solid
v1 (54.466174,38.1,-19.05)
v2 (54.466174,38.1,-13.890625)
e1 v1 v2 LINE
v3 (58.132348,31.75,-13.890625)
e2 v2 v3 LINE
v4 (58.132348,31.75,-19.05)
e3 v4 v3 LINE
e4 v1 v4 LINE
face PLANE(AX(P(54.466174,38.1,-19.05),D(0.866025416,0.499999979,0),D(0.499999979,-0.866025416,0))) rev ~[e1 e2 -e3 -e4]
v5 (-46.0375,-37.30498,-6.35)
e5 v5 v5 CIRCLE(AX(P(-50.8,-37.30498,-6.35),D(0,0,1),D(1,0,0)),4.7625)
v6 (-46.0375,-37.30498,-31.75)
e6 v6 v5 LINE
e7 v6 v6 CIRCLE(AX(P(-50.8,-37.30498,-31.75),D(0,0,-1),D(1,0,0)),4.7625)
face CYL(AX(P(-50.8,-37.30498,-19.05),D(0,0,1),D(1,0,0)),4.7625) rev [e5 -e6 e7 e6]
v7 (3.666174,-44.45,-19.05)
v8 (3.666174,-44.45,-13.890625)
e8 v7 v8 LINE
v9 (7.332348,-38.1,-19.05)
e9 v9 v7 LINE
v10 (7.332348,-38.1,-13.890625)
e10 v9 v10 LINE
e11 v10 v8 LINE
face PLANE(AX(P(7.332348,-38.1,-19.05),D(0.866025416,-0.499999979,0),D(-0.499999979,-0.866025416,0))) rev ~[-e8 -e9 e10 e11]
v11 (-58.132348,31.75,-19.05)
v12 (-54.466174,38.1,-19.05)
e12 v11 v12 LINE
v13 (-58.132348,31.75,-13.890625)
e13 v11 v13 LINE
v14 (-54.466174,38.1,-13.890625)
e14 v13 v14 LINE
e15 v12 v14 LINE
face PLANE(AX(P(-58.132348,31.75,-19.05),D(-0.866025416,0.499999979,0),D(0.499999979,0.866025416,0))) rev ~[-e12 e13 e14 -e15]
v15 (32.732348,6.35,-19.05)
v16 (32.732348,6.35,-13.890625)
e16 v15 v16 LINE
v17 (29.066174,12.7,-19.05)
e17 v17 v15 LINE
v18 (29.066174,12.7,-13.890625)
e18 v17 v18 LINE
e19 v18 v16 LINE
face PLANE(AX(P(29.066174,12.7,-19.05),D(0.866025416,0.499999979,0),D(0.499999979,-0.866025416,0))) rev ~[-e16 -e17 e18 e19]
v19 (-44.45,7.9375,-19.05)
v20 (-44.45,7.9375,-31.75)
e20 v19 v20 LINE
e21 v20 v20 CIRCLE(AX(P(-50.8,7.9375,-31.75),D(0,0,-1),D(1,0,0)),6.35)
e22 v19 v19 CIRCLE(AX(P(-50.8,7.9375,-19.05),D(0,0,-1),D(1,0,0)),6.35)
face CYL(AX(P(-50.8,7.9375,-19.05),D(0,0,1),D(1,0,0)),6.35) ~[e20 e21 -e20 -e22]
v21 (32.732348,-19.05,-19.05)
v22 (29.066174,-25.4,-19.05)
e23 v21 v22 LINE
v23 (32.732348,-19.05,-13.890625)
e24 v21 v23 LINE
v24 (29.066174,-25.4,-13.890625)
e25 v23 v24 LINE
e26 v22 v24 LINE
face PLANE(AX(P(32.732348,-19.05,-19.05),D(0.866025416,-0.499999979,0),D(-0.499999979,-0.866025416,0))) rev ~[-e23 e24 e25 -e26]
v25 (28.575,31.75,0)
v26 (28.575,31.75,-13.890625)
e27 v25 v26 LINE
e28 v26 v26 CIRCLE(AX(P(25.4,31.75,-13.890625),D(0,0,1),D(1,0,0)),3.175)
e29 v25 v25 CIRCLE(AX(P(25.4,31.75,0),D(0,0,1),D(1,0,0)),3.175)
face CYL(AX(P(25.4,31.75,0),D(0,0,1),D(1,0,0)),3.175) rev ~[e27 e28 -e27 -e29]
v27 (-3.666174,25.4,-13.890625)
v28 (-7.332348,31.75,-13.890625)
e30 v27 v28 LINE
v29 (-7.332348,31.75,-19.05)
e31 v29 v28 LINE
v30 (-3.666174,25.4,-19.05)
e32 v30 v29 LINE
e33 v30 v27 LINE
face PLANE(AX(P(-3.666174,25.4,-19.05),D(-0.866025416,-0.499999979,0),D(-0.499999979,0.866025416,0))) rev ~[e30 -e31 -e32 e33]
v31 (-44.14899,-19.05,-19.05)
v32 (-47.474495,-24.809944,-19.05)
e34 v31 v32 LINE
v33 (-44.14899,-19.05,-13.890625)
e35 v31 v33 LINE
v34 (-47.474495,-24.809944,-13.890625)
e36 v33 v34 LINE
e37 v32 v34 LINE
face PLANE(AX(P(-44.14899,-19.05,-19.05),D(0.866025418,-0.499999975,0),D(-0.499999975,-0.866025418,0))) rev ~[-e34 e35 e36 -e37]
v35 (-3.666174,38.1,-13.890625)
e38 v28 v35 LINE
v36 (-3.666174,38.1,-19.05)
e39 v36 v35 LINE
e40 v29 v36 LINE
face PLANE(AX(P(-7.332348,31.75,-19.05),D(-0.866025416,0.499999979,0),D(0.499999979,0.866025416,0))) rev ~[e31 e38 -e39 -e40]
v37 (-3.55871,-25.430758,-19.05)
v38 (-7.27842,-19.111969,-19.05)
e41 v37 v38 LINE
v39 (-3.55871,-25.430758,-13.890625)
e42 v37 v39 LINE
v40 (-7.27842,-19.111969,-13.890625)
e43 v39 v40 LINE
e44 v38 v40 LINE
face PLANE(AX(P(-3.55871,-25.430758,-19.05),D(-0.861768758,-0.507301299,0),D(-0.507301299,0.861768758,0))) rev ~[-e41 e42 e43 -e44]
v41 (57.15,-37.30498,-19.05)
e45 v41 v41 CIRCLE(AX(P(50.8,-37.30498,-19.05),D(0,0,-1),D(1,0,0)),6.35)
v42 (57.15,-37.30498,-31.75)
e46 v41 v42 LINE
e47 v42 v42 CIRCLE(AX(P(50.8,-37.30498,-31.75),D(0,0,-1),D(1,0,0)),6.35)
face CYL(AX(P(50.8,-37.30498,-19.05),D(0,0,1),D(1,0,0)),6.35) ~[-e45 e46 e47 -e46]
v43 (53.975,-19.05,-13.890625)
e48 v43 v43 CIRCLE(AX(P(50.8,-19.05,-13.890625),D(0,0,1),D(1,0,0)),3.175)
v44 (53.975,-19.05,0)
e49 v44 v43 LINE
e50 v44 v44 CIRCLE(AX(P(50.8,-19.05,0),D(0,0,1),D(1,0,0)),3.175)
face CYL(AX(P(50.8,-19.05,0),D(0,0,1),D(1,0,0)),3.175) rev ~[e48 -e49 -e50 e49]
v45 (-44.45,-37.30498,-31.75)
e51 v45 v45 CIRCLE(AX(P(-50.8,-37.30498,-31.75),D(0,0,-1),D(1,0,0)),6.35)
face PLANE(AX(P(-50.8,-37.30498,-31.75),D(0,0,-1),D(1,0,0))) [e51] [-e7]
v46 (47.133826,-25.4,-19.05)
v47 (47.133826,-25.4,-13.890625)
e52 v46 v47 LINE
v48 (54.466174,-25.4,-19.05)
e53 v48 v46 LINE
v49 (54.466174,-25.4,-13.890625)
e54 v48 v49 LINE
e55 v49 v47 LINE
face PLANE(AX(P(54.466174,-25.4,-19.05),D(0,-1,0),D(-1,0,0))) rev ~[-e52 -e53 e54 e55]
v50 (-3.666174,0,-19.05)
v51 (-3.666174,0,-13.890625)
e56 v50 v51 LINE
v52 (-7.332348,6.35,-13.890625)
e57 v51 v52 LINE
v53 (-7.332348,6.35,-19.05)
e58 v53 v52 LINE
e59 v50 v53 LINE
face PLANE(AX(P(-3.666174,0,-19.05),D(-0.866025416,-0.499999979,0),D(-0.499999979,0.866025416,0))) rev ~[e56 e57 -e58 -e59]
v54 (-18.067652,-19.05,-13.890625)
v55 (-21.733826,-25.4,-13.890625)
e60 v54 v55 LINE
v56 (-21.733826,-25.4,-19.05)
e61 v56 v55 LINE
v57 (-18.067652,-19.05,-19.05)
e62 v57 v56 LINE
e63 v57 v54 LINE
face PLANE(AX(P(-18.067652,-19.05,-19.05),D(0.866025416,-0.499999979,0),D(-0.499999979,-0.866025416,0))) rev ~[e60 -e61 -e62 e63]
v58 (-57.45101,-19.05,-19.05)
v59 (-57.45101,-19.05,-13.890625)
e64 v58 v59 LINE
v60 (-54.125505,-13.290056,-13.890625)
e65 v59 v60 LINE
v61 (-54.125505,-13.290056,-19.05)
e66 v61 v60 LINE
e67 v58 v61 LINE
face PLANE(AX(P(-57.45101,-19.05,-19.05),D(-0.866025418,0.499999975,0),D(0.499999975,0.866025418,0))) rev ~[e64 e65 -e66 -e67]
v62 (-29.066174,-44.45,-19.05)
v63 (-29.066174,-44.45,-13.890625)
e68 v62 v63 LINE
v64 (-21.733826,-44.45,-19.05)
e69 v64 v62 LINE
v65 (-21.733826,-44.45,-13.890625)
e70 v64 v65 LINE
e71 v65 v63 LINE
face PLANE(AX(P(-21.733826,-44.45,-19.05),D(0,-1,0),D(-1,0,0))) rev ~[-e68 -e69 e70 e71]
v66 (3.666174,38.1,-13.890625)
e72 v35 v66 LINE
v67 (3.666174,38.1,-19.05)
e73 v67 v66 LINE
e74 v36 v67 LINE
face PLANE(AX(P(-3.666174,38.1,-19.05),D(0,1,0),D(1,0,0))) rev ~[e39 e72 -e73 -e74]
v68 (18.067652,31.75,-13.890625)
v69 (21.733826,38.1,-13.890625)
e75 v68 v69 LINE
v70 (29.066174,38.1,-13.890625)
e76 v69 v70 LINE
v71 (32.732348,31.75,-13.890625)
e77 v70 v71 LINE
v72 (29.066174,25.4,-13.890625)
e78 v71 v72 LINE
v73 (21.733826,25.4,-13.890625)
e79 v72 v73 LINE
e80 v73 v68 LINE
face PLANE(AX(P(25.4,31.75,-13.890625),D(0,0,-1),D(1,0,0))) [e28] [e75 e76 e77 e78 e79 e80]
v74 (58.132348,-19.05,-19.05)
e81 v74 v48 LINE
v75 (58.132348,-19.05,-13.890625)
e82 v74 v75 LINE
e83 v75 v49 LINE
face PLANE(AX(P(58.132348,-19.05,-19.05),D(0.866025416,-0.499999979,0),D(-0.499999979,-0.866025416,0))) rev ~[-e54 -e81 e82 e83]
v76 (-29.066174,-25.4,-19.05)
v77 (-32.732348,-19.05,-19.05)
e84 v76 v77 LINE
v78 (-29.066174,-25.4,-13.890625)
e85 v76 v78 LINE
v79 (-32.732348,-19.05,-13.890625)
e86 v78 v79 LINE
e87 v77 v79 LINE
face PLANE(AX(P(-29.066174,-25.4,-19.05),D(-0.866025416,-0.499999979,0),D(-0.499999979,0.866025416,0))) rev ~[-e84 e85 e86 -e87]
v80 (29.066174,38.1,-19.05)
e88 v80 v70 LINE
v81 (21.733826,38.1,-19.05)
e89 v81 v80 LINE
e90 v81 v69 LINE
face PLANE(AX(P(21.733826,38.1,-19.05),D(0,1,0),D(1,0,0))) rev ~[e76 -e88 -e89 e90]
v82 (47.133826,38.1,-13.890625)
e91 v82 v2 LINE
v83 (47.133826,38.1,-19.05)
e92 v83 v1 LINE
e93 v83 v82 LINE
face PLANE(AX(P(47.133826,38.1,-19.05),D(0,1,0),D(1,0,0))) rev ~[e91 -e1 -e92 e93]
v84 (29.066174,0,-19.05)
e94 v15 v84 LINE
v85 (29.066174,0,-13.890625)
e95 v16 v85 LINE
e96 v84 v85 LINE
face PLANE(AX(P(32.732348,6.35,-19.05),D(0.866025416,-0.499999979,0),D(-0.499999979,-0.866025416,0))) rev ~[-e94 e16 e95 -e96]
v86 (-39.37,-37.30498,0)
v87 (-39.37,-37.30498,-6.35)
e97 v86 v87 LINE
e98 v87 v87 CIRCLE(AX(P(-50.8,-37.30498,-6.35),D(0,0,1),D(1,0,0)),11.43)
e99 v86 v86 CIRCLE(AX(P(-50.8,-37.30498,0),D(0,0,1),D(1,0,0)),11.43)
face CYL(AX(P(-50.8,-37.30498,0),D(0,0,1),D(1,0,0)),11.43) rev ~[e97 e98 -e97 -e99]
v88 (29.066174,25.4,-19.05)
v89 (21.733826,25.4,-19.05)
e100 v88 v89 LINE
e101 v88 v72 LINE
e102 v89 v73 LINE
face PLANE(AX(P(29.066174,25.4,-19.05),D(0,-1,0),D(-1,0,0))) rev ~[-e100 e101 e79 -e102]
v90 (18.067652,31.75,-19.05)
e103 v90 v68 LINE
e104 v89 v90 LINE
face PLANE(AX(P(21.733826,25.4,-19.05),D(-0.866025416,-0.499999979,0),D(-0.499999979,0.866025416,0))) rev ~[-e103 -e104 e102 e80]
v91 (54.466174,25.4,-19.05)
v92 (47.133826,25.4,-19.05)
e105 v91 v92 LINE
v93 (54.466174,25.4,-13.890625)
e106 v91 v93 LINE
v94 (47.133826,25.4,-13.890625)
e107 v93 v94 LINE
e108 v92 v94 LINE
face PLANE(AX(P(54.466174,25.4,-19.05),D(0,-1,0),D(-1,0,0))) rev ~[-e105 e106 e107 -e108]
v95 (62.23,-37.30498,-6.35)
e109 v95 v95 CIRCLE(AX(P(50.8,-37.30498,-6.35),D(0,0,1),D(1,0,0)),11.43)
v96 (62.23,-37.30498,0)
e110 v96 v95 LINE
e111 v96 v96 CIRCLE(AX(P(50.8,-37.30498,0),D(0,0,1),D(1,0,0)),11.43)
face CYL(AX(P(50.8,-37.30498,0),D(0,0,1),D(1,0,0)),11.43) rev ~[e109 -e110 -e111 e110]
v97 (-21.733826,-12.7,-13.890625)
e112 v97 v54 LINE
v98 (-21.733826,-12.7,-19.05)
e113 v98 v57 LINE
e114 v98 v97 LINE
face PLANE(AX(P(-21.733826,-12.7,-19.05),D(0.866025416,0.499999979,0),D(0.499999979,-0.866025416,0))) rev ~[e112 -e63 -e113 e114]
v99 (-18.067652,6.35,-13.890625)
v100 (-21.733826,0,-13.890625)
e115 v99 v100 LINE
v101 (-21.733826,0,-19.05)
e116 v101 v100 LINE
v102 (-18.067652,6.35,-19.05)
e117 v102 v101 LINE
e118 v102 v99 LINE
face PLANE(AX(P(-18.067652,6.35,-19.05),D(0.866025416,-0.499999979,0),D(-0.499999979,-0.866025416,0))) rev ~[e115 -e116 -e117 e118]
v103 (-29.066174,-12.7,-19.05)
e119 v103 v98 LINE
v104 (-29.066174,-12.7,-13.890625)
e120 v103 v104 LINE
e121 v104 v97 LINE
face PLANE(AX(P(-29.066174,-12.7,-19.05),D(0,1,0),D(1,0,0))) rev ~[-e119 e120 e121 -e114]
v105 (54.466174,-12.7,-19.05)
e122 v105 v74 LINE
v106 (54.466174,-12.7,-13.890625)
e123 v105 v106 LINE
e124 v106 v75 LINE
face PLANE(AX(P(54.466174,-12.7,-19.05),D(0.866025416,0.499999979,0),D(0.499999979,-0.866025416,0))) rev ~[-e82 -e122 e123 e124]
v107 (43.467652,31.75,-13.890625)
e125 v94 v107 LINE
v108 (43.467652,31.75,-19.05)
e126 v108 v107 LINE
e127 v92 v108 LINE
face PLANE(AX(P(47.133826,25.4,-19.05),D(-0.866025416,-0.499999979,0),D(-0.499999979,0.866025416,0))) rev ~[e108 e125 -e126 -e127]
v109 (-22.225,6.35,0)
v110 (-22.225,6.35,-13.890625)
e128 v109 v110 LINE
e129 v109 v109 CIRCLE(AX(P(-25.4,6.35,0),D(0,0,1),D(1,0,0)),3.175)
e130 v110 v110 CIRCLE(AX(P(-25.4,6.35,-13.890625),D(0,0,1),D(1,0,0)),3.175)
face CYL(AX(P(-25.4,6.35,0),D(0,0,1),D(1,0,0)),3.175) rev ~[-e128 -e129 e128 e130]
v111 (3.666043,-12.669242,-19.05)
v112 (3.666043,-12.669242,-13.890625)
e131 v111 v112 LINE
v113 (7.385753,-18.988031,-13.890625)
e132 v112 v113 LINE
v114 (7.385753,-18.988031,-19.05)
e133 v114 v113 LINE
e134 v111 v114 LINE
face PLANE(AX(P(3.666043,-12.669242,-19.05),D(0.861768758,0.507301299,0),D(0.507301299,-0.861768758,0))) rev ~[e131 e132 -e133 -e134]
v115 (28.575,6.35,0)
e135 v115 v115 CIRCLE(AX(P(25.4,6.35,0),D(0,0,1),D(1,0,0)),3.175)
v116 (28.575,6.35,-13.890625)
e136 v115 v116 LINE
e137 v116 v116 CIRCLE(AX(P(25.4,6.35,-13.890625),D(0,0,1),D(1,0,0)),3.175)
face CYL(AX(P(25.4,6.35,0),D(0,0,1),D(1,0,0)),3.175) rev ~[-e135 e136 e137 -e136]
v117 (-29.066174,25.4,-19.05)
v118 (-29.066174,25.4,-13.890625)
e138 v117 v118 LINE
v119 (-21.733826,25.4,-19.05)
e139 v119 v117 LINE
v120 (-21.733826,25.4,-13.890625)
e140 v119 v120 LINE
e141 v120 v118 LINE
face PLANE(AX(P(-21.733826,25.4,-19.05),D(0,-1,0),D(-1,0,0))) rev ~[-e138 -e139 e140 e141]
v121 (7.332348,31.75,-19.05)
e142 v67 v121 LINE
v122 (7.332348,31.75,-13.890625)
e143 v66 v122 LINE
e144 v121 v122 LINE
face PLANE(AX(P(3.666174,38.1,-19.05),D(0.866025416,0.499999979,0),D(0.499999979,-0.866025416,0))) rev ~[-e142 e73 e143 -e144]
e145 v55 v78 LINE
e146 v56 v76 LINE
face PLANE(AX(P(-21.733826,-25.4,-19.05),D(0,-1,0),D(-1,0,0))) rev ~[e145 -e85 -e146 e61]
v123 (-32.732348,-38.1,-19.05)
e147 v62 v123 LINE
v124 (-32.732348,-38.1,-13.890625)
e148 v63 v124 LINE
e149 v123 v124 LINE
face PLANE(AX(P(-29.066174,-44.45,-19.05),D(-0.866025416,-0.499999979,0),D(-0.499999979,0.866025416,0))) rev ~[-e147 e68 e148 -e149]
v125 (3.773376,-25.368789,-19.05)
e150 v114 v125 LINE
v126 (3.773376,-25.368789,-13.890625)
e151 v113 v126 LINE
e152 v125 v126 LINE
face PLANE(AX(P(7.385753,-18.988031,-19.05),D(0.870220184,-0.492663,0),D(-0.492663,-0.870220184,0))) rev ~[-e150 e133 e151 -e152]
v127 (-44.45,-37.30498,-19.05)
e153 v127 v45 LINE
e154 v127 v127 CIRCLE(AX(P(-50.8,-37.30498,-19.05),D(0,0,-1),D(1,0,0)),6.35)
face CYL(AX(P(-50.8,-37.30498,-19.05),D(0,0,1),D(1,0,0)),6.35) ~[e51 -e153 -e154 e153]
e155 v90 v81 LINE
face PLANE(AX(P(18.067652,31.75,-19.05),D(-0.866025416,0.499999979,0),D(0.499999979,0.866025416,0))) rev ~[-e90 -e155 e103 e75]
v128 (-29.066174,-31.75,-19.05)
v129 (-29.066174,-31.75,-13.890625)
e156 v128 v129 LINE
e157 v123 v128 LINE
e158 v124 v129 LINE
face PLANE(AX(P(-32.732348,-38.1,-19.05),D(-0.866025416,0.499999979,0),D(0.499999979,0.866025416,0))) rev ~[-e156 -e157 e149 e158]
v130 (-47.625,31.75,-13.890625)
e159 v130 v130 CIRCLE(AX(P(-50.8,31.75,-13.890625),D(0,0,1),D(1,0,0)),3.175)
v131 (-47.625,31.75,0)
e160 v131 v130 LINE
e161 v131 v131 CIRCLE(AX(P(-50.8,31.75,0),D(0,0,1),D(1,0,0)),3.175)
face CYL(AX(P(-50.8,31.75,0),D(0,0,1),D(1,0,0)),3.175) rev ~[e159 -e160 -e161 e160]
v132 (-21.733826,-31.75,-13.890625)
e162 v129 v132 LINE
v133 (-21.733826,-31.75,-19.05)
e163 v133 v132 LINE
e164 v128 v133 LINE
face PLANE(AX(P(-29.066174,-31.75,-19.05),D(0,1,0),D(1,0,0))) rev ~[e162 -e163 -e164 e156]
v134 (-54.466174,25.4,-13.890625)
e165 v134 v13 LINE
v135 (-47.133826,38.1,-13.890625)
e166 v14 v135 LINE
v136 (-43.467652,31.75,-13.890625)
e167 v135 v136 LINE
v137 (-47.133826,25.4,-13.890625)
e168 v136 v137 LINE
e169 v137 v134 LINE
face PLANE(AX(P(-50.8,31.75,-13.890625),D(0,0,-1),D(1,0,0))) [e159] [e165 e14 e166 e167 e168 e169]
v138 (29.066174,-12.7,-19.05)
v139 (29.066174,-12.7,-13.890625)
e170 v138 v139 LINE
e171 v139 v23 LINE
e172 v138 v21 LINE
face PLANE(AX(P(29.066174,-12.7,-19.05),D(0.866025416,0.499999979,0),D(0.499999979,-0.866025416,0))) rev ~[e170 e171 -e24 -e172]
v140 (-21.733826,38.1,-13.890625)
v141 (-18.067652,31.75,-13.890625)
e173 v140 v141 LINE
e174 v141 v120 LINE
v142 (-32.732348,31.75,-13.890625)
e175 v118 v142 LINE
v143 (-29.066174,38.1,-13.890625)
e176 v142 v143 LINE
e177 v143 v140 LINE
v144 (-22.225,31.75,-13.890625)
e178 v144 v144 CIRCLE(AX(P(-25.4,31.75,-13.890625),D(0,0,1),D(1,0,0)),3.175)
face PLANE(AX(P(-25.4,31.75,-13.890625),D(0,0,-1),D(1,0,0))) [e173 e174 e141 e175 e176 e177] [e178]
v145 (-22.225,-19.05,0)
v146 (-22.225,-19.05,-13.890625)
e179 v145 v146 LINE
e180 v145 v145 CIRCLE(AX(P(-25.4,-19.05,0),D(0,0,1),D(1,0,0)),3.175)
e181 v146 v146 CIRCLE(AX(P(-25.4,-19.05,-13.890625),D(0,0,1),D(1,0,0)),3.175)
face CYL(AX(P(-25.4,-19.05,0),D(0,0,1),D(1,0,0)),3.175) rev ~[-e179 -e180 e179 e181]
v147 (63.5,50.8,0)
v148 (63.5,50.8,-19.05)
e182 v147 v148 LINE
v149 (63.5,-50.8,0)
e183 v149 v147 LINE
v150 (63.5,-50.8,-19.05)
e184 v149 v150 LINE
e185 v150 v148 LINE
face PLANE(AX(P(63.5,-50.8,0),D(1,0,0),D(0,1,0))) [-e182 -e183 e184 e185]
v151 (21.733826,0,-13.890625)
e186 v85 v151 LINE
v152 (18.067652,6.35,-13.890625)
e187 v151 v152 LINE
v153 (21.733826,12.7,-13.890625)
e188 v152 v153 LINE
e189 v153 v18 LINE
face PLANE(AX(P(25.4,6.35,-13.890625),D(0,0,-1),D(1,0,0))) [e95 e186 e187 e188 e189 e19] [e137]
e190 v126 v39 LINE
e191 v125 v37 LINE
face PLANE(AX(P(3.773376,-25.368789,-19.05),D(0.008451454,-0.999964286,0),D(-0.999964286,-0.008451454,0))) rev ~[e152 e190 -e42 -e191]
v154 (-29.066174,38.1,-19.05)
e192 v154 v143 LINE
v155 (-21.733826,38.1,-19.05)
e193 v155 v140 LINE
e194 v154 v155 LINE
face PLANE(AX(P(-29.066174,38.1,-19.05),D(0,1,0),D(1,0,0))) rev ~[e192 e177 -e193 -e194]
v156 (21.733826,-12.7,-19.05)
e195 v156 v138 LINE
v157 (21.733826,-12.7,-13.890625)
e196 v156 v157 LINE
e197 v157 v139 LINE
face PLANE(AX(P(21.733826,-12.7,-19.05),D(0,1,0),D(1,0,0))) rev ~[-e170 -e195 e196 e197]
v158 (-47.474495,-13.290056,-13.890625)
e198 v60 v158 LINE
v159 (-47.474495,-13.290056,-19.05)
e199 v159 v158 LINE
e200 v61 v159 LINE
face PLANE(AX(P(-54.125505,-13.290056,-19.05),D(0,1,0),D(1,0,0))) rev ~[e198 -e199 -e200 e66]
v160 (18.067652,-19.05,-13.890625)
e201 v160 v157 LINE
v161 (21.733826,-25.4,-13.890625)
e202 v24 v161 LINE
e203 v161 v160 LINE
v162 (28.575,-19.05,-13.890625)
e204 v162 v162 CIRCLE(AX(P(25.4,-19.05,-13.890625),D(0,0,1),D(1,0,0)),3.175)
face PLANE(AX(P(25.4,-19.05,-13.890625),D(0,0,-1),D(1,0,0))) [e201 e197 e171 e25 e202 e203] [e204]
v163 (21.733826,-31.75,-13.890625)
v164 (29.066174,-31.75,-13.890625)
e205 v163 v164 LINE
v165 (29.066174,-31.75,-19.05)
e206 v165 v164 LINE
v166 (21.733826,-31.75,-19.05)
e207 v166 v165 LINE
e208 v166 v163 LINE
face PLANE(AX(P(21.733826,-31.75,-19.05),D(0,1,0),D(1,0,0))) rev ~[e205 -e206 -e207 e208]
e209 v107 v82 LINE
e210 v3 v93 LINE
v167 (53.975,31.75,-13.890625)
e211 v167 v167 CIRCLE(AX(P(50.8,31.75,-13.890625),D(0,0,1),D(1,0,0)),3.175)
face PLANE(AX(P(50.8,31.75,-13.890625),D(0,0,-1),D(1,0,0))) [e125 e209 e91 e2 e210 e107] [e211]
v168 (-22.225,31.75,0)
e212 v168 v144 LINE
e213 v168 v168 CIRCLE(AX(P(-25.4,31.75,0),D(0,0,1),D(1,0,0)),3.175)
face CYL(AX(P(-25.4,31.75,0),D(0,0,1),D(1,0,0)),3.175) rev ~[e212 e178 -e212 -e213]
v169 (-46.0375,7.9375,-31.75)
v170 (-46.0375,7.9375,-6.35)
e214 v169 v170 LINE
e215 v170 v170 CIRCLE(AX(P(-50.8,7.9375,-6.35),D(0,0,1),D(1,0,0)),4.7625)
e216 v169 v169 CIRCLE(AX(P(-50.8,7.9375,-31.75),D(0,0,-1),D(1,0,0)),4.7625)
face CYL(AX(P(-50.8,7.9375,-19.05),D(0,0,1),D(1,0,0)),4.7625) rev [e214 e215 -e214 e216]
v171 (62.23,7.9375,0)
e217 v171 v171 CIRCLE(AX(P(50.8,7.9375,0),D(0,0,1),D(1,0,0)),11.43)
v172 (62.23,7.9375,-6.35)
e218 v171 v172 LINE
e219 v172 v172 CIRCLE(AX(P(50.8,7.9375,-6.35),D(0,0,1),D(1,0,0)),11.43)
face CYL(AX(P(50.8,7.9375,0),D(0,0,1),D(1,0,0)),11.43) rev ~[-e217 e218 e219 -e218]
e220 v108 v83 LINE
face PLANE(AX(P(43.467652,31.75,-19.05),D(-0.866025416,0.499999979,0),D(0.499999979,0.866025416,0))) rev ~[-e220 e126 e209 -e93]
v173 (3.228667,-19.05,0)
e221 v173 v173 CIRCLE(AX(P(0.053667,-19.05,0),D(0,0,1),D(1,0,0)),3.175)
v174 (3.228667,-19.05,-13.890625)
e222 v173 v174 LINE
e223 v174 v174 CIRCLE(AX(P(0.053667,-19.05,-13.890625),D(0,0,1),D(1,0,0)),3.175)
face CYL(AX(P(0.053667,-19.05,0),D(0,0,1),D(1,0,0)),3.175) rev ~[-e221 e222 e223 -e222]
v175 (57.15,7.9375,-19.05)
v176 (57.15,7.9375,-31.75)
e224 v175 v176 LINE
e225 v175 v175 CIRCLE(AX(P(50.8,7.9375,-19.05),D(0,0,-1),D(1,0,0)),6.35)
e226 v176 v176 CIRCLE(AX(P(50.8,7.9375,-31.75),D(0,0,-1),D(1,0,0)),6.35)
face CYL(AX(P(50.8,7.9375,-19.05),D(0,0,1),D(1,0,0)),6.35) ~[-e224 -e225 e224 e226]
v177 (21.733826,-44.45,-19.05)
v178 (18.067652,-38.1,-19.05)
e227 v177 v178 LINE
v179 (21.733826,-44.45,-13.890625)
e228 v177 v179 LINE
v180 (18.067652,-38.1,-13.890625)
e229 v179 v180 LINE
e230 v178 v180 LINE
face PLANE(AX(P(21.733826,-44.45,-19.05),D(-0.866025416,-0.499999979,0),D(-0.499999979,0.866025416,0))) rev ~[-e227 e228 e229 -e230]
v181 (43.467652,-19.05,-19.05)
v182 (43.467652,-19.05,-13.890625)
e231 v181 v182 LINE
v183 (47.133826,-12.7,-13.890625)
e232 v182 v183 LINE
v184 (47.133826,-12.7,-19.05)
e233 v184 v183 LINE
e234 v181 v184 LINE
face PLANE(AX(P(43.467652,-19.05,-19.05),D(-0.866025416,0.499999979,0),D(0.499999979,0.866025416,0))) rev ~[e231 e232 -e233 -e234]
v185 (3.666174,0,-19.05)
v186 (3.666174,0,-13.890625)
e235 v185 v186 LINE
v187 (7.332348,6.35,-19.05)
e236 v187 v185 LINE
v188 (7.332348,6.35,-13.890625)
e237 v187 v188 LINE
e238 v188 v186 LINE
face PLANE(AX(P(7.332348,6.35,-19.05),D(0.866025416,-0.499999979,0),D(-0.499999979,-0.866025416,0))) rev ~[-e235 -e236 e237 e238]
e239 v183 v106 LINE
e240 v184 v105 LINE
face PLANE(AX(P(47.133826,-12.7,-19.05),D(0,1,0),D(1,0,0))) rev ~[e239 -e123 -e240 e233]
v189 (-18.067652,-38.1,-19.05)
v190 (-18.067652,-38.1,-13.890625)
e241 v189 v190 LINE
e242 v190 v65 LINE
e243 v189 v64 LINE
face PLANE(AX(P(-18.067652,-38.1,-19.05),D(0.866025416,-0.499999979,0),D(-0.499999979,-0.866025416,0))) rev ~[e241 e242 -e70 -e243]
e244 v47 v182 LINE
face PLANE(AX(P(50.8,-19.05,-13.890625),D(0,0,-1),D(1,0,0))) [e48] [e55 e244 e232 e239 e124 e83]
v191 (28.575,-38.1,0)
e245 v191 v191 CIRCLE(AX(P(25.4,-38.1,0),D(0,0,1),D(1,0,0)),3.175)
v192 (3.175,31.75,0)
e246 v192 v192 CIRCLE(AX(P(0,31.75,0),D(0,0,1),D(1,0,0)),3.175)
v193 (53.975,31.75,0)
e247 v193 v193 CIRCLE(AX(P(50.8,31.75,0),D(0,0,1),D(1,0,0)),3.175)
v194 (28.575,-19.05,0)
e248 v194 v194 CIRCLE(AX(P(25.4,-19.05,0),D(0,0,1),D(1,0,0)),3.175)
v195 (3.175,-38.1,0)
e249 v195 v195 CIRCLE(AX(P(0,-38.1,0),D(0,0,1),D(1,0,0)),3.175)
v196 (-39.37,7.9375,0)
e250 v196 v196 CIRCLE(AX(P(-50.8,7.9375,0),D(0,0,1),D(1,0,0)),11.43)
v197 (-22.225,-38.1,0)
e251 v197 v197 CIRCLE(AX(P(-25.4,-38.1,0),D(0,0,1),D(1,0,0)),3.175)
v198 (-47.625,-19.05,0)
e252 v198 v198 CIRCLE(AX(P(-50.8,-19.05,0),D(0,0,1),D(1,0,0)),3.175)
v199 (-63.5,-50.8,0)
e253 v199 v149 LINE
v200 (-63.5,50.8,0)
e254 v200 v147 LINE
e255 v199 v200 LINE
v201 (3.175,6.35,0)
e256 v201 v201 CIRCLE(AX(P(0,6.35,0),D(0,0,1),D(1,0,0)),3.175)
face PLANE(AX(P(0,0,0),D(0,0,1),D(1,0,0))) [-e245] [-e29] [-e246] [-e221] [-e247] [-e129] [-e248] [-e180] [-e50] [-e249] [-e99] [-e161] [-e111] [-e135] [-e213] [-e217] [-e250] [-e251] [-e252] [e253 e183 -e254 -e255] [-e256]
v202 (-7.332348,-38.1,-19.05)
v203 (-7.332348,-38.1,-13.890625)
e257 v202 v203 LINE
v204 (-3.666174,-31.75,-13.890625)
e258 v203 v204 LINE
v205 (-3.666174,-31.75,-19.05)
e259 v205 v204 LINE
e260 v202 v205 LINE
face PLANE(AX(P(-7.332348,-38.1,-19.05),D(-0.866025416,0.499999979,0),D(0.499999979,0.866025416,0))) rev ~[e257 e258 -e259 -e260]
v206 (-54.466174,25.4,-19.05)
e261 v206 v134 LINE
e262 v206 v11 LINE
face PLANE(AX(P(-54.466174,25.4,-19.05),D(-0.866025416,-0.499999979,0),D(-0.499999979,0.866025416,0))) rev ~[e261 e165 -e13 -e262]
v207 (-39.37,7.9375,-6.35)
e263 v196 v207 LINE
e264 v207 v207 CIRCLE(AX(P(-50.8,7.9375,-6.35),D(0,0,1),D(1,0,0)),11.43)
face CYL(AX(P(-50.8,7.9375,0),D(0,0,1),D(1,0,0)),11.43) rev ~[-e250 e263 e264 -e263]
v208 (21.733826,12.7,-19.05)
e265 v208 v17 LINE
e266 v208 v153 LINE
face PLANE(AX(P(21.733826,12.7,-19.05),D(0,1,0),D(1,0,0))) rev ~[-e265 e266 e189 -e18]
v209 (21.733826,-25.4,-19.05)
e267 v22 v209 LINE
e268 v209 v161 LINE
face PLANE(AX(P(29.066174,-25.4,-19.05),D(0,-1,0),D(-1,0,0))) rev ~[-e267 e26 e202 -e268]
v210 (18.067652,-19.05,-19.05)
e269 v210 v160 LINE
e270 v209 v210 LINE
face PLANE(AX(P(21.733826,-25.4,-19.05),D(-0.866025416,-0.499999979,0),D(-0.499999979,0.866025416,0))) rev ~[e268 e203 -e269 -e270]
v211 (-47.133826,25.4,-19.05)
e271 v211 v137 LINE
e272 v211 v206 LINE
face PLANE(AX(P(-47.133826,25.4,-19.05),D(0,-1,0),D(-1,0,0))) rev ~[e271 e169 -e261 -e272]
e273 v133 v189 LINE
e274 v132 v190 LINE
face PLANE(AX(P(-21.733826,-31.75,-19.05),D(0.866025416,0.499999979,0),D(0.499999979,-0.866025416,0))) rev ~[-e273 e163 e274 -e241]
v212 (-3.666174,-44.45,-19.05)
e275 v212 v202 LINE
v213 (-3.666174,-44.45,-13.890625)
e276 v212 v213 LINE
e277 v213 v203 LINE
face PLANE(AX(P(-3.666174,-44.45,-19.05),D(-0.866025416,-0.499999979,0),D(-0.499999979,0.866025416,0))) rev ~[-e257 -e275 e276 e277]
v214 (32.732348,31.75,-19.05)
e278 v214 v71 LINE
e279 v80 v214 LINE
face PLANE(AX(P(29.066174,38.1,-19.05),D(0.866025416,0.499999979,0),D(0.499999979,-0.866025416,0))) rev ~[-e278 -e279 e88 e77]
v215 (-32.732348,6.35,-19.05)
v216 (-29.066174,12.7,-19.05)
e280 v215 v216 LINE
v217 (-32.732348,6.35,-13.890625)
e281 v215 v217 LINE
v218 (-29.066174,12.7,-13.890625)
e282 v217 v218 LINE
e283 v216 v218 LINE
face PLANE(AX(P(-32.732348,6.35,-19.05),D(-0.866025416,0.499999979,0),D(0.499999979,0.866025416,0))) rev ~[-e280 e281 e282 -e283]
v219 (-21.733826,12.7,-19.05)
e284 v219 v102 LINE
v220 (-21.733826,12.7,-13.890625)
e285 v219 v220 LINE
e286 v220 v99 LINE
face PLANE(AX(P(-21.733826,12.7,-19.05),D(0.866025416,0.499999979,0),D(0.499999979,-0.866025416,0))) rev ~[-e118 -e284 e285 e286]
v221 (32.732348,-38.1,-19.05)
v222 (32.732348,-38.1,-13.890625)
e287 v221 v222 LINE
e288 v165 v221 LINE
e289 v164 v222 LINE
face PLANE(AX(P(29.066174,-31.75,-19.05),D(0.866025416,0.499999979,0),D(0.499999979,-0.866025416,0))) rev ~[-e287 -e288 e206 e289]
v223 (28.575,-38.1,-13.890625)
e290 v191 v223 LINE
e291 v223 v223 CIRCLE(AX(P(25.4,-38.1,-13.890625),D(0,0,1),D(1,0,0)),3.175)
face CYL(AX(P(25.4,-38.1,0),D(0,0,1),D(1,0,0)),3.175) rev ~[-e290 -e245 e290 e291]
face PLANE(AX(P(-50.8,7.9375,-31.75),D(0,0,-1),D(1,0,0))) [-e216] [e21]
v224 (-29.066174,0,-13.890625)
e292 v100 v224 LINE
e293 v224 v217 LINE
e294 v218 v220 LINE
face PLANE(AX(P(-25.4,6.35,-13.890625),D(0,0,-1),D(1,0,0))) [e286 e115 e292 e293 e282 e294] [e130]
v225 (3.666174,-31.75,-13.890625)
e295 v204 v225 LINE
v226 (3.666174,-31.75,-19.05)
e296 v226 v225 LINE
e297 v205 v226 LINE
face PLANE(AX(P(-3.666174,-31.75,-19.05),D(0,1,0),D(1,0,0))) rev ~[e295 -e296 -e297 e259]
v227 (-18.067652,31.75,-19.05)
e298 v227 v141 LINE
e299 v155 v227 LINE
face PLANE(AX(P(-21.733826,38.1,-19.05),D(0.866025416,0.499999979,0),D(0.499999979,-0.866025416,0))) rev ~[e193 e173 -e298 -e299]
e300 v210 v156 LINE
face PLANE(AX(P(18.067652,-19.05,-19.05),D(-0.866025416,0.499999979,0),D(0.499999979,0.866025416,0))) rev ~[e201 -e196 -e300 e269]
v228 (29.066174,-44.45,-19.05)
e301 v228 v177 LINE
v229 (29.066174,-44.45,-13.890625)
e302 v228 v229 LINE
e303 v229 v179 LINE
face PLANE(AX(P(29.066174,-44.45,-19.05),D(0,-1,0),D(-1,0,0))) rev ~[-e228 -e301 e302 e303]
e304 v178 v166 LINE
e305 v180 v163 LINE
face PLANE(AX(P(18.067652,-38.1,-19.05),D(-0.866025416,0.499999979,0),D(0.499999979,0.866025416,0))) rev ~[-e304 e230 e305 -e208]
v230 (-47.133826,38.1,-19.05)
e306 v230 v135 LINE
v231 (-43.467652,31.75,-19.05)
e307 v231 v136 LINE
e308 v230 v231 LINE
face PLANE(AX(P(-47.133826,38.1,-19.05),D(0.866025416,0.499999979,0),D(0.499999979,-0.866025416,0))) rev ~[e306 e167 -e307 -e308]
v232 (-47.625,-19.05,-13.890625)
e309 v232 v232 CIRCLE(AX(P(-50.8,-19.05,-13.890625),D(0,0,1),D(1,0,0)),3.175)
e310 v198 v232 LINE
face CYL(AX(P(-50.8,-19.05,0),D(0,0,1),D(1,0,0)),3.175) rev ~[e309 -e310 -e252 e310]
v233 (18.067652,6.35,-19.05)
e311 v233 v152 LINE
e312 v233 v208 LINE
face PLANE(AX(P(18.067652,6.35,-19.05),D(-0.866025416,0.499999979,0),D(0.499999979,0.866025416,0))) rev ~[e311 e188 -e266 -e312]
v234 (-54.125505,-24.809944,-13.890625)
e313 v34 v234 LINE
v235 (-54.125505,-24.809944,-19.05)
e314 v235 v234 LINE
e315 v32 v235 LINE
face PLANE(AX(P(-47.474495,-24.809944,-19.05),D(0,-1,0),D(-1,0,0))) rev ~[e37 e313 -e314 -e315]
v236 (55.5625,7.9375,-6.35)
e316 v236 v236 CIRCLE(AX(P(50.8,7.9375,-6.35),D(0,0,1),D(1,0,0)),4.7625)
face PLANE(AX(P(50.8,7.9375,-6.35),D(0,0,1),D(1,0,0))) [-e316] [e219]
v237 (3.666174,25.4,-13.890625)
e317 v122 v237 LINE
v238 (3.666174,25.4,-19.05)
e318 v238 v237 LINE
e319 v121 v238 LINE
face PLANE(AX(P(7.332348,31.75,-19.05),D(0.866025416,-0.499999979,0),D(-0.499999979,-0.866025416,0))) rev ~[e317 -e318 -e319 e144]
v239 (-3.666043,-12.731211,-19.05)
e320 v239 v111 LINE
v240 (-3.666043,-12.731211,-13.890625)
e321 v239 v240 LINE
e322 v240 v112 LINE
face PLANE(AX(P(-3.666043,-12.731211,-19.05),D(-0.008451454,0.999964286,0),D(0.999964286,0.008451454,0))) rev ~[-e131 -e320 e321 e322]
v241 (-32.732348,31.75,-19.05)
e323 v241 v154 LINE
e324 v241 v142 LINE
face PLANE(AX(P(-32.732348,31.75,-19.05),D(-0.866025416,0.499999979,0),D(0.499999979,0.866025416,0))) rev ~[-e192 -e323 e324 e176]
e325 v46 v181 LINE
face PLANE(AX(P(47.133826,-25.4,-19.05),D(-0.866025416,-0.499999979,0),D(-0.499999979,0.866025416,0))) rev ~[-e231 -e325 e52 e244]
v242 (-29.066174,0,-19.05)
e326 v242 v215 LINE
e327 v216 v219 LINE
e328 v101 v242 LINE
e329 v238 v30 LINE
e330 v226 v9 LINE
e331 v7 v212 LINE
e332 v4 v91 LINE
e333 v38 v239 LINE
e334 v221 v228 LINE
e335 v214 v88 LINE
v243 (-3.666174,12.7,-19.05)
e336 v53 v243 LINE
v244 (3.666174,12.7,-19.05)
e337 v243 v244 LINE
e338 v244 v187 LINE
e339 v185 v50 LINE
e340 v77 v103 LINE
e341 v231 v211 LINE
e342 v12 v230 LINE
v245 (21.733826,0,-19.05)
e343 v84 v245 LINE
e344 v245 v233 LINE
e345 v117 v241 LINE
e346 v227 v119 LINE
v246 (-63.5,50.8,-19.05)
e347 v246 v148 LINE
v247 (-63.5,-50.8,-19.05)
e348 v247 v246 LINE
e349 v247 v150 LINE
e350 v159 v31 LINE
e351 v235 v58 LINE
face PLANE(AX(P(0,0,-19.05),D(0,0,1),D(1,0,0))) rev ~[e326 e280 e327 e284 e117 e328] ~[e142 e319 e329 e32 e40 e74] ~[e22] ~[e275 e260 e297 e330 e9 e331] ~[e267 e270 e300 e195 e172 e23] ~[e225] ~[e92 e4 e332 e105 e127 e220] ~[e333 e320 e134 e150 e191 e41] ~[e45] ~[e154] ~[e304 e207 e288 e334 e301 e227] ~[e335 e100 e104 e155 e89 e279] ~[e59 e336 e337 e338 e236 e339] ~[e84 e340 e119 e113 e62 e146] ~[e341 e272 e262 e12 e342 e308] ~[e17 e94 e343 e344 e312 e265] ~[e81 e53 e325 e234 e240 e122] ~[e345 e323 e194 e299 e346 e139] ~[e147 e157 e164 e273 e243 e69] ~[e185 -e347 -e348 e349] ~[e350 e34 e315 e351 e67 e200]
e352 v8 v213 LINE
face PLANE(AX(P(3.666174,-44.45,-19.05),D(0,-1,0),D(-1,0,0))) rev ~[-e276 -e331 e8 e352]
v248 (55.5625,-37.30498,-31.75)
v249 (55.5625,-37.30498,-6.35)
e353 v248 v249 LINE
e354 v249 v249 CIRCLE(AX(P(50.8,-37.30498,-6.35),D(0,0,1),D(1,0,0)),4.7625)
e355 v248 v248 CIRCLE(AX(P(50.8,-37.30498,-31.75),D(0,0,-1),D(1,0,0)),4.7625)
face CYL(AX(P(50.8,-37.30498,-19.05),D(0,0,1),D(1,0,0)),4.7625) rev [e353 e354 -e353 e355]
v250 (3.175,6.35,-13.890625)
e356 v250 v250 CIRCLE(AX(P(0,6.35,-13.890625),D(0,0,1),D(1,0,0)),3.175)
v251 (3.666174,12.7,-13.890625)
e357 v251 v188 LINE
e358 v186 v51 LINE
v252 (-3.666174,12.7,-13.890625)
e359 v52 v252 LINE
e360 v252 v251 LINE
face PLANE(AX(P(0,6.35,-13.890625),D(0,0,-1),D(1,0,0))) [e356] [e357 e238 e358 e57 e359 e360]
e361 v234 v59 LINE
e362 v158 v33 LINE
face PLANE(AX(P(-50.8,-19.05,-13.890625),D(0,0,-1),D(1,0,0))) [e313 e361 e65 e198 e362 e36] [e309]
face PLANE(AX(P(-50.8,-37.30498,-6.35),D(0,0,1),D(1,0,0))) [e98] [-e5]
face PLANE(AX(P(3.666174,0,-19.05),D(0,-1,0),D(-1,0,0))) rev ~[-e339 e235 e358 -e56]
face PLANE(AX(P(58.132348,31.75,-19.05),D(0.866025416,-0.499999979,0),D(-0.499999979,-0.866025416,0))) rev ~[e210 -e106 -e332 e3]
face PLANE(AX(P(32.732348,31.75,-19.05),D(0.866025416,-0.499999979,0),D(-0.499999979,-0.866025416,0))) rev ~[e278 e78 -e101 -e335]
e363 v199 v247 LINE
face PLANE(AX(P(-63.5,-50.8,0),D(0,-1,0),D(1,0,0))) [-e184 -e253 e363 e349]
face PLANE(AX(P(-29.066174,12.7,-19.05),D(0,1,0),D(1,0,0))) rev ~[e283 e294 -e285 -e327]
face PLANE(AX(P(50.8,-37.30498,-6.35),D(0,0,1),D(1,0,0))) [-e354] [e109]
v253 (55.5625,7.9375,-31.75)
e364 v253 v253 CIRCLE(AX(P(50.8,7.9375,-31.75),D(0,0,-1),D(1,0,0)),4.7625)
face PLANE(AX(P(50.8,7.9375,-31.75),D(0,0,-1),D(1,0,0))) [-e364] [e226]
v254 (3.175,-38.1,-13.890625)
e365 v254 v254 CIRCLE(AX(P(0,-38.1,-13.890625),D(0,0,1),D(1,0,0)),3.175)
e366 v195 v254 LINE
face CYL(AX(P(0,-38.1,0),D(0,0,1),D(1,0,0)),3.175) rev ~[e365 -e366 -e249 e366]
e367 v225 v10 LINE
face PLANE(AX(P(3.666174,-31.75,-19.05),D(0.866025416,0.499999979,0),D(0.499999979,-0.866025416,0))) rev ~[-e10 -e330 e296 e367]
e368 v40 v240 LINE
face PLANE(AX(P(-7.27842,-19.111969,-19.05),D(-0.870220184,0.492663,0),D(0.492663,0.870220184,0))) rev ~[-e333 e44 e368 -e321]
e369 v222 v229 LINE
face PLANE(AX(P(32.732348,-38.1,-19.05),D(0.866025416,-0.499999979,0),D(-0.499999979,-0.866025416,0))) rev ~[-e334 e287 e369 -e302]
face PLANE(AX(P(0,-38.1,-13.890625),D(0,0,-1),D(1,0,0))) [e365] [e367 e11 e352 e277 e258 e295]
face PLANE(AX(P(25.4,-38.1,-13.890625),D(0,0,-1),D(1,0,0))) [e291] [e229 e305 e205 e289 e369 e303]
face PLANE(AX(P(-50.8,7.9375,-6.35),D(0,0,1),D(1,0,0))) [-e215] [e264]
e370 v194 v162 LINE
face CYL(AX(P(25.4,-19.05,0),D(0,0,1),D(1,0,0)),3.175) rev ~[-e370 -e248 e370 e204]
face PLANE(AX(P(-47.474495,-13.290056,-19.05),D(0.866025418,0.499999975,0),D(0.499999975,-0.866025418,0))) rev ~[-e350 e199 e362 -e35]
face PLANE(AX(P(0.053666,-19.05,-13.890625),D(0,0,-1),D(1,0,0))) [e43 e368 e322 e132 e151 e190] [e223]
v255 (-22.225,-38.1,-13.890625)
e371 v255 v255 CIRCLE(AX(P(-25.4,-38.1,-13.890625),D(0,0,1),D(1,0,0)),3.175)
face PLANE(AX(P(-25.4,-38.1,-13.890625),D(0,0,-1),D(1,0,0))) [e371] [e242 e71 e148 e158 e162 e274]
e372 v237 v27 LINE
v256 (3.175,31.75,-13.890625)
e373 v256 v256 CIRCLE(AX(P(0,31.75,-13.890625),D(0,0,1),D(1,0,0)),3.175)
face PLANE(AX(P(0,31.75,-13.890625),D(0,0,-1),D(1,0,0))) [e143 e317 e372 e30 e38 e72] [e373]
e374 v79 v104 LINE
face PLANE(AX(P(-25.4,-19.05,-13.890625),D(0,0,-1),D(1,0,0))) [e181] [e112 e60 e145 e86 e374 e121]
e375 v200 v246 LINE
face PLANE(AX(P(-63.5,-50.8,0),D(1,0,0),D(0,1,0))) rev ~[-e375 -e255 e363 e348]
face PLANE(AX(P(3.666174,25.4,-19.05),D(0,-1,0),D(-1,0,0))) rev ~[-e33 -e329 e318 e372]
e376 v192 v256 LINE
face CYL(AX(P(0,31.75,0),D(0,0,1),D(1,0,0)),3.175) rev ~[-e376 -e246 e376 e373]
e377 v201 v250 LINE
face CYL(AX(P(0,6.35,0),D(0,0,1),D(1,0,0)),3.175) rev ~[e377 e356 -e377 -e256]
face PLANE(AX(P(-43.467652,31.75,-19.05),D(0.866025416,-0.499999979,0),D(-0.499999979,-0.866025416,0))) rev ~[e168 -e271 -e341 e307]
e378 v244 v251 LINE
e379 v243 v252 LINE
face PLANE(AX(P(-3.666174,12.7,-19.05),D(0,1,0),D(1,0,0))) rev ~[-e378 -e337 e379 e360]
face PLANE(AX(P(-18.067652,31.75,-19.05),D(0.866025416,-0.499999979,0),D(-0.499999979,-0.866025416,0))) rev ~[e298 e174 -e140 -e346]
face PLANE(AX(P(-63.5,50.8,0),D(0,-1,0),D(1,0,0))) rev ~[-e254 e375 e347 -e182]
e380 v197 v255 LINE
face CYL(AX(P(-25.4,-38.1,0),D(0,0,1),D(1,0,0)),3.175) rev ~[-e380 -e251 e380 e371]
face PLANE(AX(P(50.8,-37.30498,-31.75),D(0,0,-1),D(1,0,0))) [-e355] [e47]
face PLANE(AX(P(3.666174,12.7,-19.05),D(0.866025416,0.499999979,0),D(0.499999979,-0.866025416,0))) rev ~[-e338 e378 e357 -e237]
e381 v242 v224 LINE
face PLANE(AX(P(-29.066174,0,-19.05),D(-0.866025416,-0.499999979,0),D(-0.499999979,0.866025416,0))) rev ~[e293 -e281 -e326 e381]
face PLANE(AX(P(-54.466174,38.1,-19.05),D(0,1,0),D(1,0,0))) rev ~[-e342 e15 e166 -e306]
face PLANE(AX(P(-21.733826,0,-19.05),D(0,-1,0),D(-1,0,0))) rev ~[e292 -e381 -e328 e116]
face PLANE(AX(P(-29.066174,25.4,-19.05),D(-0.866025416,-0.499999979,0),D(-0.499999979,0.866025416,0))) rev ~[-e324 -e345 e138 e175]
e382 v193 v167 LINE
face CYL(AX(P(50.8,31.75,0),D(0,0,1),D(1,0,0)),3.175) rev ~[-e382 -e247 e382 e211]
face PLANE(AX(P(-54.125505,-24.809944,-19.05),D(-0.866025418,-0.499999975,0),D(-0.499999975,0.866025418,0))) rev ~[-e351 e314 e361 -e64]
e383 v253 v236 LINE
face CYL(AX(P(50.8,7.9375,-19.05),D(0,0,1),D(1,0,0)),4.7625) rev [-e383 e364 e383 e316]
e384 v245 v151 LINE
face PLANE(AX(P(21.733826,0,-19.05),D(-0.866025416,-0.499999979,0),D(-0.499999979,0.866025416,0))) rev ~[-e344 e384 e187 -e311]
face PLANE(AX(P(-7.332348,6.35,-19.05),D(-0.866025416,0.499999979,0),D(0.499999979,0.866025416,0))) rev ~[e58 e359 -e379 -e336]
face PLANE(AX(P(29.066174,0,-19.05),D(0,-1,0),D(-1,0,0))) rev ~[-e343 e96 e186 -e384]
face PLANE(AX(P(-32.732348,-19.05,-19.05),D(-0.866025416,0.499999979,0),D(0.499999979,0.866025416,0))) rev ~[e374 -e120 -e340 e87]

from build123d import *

# Parameters (mm, degrees)
F0_W      = 127
F0_H      = 101.6
F1_DEPTH  = 19.05
F2_R      = 4.7625
F3_DEPTH  = 25.4
F4_R      = 11.43
F5_DEPTH  = 6.35
F6_R      = 6.35
F6_R_2    = 4.7625
F7_DEPTH  = 12.7
F8_R      = 3.175
F9_DEPTH  = 25.4
F11_DEPTH = 5.159375


with BuildPart() as f1:
    # F0 (on Top) → F1 (new body)
    with BuildSketch(Plane.XY):
        Rectangle(F0_W, F0_H)
    extrude(amount=-F1_DEPTH)

    # F2 (on face) → F3 (cut)
    with BuildSketch(Plane.XY):
        with Locations((-50.8, 7.9375)):
            Circle(F2_R)
        with Locations((50.8, 7.9375)):
            Circle(F2_R)
        with Locations((-50.8, -37.30498)):
            Circle(F2_R)
        with Locations((50.8, -37.30498)):
            Circle(F2_R)
    extrude(amount=-F3_DEPTH, mode=Mode.SUBTRACT)

    # F4 (on face) → F5 (cut)
    with BuildSketch(Plane.XY):
        with Locations((-50.8, 7.9375)):
            Circle(F4_R)
        with Locations((-50.8, -37.30498)):
            Circle(F4_R)
        with Locations((50.8, -37.30498)):
            Circle(F4_R)
        with Locations((50.8, 7.9375)):
            Circle(F4_R)
    extrude(amount=-F5_DEPTH, mode=Mode.SUBTRACT)

    # F6 (on face) → F7 (join)
    with BuildSketch(Plane(origin=(0, 0, -19.05), x_dir=(1, 0, 0), z_dir=(0, 0, -1))):
        with Locations((50.8, -7.9375)):
            Circle(F6_R)
        with Locations((50.8, -7.9375)):
            Circle(F6_R_2, mode=Mode.SUBTRACT)
        with Locations((-50.8, -7.9375)):
            Circle(F6_R)
        with Locations((-50.8, -7.9375)):
            Circle(F6_R_2, mode=Mode.SUBTRACT)
        with Locations((-50.8, 37.30498)):
            Circle(F6_R)
        with Locations((-50.8, 37.30498)):
            Circle(F6_R_2, mode=Mode.SUBTRACT)
        with Locations((50.8, 37.30498)):
            Circle(F6_R)
        with Locations((50.8, 37.30498)):
            Circle(F6_R_2, mode=Mode.SUBTRACT)
    extrude(amount=F7_DEPTH)

    # F8 (on face) → F9 (cut)
    with BuildSketch(Plane.XY):
        with Locations((-50.8, 31.75)):
            Circle(F8_R)
        with Locations((-25.4, 31.75)):
            Circle(F8_R)
        with Locations((0, 31.75)):
            Circle(F8_R)
        with Locations((25.4, 31.75)):
            Circle(F8_R)
        with Locations((50.8, 31.75)):
            Circle(F8_R)
        with Locations((-25.4, 6.35)):
            Circle(F8_R)
        with Locations((0, 6.35)):
            Circle(F8_R)
        with Locations((25.4, 6.35)):
            Circle(F8_R)
        with Locations((-50.8, -19.05)):
            Circle(F8_R)
        with Locations((-25.4, -19.05)):
            Circle(F8_R)
        with Locations((0.053667, -19.05)):
            Circle(F8_R)
        with Locations((25.4, -19.05)):
            Circle(F8_R)
        with Locations((50.8, -19.05)):
            Circle(F8_R)
        with Locations((-25.4, -38.1)):
            Circle(F8_R)
        with Locations((0, -38.1)):
            Circle(F8_R)
        with Locations((25.4, -38.1)):
            Circle(F8_R)
    extrude(amount=-F9_DEPTH, mode=Mode.SUBTRACT)

    # F10 (on face) → F11 (cut)
    with BuildSketch(Plane(origin=(0, 0, -19.05), x_dir=(1, 0, 0), z_dir=(0, 0, -1))):
        Polygon((54.466174, -25.4), (47.133826, -25.4), (43.467652, -31.75), (47.133826, -38.1), (54.466174, -38.1), (58.132348, -31.75), align=None)
        Polygon((54.466174, 25.4), (47.133826, 25.4), (43.467652, 19.05), (47.133826, 12.7), (54.466174, 12.7), (58.132348, 19.05), align=None)
        Polygon((29.066174, -25.4), (21.733826, -25.4), (18.067652, -31.75), (21.733826, -38.1), (29.066174, -38.1), (32.732348, -31.75), align=None)
        Polygon((29.066174, 0), (21.733826, 0), (18.067652, -6.35), (21.733826, -12.7), (29.066174, -12.7), (32.732348, -6.35), align=None)
        Polygon((29.066174, 25.4), (21.733826, 25.4), (18.067652, 19.05), (21.733826, 12.7), (29.066174, 12.7), (32.732348, 19.05), align=None)
        Polygon((29.066174, 44.45), (21.733826, 44.45), (18.067652, 38.1), (21.733826, 31.75), (29.066174, 31.75), (32.732348, 38.1), align=None)
        Polygon((-47.133826, -25.4), (-54.466174, -25.4), (-58.132348, -31.75), (-54.466174, -38.1), (-47.133826, -38.1), (-43.467652, -31.75), align=None)
        Polygon((-47.474495, 24.809944), (-54.125505, 24.809944), (-57.45101, 19.05), (-54.125505, 13.290056), (-47.474495, 13.290056), (-44.14899, 19.05), align=None)
        Polygon((-21.733826, 44.45), (-29.066174, 44.45), (-32.732348, 38.1), (-29.066174, 31.75), (-21.733826, 31.75), (-18.067652, 38.1), align=None)
        Polygon((-21.733826, 25.4), (-29.066174, 25.4), (-32.732348, 19.05), (-29.066174, 12.7), (-21.733826, 12.7), (-18.067652, 19.05), align=None)
        Polygon((-21.733826, 0), (-29.066174, 0), (-32.732348, -6.35), (-29.066174, -12.7), (-21.733826, -12.7), (-18.067652, -6.35), align=None)
        Polygon((-21.733826, -25.4), (-29.066174, -25.4), (-32.732348, -31.75), (-29.066174, -38.1), (-21.733826, -38.1), (-18.067652, -31.75), align=None)
        Polygon((3.666174, -25.4), (-3.666174, -25.4), (-7.332348, -31.75), (-3.666174, -38.1), (3.666174, -38.1), (7.332348, -31.75), align=None)
        Polygon((-3.666174, -12.7), (3.666174, -12.7), (7.332348, -6.35), (3.666174, 0), (-3.666174, 0), (-7.332348, -6.35), align=None)
        Polygon((-3.666043, 12.731211), (3.666043, 12.669242), (7.385753, 18.988031), (3.773376, 25.368789), (-3.55871, 25.430758), (-7.27842, 19.111969), align=None)
        Polygon((-3.666174, 31.75), (3.666174, 31.75), (7.332348, 38.1), (3.666174, 44.45), (-3.666174, 44.45), (-7.332348, 38.1), align=None)
    extrude(amount=-F11_DEPTH, mode=Mode.SUBTRACT)


solid = f1.part
